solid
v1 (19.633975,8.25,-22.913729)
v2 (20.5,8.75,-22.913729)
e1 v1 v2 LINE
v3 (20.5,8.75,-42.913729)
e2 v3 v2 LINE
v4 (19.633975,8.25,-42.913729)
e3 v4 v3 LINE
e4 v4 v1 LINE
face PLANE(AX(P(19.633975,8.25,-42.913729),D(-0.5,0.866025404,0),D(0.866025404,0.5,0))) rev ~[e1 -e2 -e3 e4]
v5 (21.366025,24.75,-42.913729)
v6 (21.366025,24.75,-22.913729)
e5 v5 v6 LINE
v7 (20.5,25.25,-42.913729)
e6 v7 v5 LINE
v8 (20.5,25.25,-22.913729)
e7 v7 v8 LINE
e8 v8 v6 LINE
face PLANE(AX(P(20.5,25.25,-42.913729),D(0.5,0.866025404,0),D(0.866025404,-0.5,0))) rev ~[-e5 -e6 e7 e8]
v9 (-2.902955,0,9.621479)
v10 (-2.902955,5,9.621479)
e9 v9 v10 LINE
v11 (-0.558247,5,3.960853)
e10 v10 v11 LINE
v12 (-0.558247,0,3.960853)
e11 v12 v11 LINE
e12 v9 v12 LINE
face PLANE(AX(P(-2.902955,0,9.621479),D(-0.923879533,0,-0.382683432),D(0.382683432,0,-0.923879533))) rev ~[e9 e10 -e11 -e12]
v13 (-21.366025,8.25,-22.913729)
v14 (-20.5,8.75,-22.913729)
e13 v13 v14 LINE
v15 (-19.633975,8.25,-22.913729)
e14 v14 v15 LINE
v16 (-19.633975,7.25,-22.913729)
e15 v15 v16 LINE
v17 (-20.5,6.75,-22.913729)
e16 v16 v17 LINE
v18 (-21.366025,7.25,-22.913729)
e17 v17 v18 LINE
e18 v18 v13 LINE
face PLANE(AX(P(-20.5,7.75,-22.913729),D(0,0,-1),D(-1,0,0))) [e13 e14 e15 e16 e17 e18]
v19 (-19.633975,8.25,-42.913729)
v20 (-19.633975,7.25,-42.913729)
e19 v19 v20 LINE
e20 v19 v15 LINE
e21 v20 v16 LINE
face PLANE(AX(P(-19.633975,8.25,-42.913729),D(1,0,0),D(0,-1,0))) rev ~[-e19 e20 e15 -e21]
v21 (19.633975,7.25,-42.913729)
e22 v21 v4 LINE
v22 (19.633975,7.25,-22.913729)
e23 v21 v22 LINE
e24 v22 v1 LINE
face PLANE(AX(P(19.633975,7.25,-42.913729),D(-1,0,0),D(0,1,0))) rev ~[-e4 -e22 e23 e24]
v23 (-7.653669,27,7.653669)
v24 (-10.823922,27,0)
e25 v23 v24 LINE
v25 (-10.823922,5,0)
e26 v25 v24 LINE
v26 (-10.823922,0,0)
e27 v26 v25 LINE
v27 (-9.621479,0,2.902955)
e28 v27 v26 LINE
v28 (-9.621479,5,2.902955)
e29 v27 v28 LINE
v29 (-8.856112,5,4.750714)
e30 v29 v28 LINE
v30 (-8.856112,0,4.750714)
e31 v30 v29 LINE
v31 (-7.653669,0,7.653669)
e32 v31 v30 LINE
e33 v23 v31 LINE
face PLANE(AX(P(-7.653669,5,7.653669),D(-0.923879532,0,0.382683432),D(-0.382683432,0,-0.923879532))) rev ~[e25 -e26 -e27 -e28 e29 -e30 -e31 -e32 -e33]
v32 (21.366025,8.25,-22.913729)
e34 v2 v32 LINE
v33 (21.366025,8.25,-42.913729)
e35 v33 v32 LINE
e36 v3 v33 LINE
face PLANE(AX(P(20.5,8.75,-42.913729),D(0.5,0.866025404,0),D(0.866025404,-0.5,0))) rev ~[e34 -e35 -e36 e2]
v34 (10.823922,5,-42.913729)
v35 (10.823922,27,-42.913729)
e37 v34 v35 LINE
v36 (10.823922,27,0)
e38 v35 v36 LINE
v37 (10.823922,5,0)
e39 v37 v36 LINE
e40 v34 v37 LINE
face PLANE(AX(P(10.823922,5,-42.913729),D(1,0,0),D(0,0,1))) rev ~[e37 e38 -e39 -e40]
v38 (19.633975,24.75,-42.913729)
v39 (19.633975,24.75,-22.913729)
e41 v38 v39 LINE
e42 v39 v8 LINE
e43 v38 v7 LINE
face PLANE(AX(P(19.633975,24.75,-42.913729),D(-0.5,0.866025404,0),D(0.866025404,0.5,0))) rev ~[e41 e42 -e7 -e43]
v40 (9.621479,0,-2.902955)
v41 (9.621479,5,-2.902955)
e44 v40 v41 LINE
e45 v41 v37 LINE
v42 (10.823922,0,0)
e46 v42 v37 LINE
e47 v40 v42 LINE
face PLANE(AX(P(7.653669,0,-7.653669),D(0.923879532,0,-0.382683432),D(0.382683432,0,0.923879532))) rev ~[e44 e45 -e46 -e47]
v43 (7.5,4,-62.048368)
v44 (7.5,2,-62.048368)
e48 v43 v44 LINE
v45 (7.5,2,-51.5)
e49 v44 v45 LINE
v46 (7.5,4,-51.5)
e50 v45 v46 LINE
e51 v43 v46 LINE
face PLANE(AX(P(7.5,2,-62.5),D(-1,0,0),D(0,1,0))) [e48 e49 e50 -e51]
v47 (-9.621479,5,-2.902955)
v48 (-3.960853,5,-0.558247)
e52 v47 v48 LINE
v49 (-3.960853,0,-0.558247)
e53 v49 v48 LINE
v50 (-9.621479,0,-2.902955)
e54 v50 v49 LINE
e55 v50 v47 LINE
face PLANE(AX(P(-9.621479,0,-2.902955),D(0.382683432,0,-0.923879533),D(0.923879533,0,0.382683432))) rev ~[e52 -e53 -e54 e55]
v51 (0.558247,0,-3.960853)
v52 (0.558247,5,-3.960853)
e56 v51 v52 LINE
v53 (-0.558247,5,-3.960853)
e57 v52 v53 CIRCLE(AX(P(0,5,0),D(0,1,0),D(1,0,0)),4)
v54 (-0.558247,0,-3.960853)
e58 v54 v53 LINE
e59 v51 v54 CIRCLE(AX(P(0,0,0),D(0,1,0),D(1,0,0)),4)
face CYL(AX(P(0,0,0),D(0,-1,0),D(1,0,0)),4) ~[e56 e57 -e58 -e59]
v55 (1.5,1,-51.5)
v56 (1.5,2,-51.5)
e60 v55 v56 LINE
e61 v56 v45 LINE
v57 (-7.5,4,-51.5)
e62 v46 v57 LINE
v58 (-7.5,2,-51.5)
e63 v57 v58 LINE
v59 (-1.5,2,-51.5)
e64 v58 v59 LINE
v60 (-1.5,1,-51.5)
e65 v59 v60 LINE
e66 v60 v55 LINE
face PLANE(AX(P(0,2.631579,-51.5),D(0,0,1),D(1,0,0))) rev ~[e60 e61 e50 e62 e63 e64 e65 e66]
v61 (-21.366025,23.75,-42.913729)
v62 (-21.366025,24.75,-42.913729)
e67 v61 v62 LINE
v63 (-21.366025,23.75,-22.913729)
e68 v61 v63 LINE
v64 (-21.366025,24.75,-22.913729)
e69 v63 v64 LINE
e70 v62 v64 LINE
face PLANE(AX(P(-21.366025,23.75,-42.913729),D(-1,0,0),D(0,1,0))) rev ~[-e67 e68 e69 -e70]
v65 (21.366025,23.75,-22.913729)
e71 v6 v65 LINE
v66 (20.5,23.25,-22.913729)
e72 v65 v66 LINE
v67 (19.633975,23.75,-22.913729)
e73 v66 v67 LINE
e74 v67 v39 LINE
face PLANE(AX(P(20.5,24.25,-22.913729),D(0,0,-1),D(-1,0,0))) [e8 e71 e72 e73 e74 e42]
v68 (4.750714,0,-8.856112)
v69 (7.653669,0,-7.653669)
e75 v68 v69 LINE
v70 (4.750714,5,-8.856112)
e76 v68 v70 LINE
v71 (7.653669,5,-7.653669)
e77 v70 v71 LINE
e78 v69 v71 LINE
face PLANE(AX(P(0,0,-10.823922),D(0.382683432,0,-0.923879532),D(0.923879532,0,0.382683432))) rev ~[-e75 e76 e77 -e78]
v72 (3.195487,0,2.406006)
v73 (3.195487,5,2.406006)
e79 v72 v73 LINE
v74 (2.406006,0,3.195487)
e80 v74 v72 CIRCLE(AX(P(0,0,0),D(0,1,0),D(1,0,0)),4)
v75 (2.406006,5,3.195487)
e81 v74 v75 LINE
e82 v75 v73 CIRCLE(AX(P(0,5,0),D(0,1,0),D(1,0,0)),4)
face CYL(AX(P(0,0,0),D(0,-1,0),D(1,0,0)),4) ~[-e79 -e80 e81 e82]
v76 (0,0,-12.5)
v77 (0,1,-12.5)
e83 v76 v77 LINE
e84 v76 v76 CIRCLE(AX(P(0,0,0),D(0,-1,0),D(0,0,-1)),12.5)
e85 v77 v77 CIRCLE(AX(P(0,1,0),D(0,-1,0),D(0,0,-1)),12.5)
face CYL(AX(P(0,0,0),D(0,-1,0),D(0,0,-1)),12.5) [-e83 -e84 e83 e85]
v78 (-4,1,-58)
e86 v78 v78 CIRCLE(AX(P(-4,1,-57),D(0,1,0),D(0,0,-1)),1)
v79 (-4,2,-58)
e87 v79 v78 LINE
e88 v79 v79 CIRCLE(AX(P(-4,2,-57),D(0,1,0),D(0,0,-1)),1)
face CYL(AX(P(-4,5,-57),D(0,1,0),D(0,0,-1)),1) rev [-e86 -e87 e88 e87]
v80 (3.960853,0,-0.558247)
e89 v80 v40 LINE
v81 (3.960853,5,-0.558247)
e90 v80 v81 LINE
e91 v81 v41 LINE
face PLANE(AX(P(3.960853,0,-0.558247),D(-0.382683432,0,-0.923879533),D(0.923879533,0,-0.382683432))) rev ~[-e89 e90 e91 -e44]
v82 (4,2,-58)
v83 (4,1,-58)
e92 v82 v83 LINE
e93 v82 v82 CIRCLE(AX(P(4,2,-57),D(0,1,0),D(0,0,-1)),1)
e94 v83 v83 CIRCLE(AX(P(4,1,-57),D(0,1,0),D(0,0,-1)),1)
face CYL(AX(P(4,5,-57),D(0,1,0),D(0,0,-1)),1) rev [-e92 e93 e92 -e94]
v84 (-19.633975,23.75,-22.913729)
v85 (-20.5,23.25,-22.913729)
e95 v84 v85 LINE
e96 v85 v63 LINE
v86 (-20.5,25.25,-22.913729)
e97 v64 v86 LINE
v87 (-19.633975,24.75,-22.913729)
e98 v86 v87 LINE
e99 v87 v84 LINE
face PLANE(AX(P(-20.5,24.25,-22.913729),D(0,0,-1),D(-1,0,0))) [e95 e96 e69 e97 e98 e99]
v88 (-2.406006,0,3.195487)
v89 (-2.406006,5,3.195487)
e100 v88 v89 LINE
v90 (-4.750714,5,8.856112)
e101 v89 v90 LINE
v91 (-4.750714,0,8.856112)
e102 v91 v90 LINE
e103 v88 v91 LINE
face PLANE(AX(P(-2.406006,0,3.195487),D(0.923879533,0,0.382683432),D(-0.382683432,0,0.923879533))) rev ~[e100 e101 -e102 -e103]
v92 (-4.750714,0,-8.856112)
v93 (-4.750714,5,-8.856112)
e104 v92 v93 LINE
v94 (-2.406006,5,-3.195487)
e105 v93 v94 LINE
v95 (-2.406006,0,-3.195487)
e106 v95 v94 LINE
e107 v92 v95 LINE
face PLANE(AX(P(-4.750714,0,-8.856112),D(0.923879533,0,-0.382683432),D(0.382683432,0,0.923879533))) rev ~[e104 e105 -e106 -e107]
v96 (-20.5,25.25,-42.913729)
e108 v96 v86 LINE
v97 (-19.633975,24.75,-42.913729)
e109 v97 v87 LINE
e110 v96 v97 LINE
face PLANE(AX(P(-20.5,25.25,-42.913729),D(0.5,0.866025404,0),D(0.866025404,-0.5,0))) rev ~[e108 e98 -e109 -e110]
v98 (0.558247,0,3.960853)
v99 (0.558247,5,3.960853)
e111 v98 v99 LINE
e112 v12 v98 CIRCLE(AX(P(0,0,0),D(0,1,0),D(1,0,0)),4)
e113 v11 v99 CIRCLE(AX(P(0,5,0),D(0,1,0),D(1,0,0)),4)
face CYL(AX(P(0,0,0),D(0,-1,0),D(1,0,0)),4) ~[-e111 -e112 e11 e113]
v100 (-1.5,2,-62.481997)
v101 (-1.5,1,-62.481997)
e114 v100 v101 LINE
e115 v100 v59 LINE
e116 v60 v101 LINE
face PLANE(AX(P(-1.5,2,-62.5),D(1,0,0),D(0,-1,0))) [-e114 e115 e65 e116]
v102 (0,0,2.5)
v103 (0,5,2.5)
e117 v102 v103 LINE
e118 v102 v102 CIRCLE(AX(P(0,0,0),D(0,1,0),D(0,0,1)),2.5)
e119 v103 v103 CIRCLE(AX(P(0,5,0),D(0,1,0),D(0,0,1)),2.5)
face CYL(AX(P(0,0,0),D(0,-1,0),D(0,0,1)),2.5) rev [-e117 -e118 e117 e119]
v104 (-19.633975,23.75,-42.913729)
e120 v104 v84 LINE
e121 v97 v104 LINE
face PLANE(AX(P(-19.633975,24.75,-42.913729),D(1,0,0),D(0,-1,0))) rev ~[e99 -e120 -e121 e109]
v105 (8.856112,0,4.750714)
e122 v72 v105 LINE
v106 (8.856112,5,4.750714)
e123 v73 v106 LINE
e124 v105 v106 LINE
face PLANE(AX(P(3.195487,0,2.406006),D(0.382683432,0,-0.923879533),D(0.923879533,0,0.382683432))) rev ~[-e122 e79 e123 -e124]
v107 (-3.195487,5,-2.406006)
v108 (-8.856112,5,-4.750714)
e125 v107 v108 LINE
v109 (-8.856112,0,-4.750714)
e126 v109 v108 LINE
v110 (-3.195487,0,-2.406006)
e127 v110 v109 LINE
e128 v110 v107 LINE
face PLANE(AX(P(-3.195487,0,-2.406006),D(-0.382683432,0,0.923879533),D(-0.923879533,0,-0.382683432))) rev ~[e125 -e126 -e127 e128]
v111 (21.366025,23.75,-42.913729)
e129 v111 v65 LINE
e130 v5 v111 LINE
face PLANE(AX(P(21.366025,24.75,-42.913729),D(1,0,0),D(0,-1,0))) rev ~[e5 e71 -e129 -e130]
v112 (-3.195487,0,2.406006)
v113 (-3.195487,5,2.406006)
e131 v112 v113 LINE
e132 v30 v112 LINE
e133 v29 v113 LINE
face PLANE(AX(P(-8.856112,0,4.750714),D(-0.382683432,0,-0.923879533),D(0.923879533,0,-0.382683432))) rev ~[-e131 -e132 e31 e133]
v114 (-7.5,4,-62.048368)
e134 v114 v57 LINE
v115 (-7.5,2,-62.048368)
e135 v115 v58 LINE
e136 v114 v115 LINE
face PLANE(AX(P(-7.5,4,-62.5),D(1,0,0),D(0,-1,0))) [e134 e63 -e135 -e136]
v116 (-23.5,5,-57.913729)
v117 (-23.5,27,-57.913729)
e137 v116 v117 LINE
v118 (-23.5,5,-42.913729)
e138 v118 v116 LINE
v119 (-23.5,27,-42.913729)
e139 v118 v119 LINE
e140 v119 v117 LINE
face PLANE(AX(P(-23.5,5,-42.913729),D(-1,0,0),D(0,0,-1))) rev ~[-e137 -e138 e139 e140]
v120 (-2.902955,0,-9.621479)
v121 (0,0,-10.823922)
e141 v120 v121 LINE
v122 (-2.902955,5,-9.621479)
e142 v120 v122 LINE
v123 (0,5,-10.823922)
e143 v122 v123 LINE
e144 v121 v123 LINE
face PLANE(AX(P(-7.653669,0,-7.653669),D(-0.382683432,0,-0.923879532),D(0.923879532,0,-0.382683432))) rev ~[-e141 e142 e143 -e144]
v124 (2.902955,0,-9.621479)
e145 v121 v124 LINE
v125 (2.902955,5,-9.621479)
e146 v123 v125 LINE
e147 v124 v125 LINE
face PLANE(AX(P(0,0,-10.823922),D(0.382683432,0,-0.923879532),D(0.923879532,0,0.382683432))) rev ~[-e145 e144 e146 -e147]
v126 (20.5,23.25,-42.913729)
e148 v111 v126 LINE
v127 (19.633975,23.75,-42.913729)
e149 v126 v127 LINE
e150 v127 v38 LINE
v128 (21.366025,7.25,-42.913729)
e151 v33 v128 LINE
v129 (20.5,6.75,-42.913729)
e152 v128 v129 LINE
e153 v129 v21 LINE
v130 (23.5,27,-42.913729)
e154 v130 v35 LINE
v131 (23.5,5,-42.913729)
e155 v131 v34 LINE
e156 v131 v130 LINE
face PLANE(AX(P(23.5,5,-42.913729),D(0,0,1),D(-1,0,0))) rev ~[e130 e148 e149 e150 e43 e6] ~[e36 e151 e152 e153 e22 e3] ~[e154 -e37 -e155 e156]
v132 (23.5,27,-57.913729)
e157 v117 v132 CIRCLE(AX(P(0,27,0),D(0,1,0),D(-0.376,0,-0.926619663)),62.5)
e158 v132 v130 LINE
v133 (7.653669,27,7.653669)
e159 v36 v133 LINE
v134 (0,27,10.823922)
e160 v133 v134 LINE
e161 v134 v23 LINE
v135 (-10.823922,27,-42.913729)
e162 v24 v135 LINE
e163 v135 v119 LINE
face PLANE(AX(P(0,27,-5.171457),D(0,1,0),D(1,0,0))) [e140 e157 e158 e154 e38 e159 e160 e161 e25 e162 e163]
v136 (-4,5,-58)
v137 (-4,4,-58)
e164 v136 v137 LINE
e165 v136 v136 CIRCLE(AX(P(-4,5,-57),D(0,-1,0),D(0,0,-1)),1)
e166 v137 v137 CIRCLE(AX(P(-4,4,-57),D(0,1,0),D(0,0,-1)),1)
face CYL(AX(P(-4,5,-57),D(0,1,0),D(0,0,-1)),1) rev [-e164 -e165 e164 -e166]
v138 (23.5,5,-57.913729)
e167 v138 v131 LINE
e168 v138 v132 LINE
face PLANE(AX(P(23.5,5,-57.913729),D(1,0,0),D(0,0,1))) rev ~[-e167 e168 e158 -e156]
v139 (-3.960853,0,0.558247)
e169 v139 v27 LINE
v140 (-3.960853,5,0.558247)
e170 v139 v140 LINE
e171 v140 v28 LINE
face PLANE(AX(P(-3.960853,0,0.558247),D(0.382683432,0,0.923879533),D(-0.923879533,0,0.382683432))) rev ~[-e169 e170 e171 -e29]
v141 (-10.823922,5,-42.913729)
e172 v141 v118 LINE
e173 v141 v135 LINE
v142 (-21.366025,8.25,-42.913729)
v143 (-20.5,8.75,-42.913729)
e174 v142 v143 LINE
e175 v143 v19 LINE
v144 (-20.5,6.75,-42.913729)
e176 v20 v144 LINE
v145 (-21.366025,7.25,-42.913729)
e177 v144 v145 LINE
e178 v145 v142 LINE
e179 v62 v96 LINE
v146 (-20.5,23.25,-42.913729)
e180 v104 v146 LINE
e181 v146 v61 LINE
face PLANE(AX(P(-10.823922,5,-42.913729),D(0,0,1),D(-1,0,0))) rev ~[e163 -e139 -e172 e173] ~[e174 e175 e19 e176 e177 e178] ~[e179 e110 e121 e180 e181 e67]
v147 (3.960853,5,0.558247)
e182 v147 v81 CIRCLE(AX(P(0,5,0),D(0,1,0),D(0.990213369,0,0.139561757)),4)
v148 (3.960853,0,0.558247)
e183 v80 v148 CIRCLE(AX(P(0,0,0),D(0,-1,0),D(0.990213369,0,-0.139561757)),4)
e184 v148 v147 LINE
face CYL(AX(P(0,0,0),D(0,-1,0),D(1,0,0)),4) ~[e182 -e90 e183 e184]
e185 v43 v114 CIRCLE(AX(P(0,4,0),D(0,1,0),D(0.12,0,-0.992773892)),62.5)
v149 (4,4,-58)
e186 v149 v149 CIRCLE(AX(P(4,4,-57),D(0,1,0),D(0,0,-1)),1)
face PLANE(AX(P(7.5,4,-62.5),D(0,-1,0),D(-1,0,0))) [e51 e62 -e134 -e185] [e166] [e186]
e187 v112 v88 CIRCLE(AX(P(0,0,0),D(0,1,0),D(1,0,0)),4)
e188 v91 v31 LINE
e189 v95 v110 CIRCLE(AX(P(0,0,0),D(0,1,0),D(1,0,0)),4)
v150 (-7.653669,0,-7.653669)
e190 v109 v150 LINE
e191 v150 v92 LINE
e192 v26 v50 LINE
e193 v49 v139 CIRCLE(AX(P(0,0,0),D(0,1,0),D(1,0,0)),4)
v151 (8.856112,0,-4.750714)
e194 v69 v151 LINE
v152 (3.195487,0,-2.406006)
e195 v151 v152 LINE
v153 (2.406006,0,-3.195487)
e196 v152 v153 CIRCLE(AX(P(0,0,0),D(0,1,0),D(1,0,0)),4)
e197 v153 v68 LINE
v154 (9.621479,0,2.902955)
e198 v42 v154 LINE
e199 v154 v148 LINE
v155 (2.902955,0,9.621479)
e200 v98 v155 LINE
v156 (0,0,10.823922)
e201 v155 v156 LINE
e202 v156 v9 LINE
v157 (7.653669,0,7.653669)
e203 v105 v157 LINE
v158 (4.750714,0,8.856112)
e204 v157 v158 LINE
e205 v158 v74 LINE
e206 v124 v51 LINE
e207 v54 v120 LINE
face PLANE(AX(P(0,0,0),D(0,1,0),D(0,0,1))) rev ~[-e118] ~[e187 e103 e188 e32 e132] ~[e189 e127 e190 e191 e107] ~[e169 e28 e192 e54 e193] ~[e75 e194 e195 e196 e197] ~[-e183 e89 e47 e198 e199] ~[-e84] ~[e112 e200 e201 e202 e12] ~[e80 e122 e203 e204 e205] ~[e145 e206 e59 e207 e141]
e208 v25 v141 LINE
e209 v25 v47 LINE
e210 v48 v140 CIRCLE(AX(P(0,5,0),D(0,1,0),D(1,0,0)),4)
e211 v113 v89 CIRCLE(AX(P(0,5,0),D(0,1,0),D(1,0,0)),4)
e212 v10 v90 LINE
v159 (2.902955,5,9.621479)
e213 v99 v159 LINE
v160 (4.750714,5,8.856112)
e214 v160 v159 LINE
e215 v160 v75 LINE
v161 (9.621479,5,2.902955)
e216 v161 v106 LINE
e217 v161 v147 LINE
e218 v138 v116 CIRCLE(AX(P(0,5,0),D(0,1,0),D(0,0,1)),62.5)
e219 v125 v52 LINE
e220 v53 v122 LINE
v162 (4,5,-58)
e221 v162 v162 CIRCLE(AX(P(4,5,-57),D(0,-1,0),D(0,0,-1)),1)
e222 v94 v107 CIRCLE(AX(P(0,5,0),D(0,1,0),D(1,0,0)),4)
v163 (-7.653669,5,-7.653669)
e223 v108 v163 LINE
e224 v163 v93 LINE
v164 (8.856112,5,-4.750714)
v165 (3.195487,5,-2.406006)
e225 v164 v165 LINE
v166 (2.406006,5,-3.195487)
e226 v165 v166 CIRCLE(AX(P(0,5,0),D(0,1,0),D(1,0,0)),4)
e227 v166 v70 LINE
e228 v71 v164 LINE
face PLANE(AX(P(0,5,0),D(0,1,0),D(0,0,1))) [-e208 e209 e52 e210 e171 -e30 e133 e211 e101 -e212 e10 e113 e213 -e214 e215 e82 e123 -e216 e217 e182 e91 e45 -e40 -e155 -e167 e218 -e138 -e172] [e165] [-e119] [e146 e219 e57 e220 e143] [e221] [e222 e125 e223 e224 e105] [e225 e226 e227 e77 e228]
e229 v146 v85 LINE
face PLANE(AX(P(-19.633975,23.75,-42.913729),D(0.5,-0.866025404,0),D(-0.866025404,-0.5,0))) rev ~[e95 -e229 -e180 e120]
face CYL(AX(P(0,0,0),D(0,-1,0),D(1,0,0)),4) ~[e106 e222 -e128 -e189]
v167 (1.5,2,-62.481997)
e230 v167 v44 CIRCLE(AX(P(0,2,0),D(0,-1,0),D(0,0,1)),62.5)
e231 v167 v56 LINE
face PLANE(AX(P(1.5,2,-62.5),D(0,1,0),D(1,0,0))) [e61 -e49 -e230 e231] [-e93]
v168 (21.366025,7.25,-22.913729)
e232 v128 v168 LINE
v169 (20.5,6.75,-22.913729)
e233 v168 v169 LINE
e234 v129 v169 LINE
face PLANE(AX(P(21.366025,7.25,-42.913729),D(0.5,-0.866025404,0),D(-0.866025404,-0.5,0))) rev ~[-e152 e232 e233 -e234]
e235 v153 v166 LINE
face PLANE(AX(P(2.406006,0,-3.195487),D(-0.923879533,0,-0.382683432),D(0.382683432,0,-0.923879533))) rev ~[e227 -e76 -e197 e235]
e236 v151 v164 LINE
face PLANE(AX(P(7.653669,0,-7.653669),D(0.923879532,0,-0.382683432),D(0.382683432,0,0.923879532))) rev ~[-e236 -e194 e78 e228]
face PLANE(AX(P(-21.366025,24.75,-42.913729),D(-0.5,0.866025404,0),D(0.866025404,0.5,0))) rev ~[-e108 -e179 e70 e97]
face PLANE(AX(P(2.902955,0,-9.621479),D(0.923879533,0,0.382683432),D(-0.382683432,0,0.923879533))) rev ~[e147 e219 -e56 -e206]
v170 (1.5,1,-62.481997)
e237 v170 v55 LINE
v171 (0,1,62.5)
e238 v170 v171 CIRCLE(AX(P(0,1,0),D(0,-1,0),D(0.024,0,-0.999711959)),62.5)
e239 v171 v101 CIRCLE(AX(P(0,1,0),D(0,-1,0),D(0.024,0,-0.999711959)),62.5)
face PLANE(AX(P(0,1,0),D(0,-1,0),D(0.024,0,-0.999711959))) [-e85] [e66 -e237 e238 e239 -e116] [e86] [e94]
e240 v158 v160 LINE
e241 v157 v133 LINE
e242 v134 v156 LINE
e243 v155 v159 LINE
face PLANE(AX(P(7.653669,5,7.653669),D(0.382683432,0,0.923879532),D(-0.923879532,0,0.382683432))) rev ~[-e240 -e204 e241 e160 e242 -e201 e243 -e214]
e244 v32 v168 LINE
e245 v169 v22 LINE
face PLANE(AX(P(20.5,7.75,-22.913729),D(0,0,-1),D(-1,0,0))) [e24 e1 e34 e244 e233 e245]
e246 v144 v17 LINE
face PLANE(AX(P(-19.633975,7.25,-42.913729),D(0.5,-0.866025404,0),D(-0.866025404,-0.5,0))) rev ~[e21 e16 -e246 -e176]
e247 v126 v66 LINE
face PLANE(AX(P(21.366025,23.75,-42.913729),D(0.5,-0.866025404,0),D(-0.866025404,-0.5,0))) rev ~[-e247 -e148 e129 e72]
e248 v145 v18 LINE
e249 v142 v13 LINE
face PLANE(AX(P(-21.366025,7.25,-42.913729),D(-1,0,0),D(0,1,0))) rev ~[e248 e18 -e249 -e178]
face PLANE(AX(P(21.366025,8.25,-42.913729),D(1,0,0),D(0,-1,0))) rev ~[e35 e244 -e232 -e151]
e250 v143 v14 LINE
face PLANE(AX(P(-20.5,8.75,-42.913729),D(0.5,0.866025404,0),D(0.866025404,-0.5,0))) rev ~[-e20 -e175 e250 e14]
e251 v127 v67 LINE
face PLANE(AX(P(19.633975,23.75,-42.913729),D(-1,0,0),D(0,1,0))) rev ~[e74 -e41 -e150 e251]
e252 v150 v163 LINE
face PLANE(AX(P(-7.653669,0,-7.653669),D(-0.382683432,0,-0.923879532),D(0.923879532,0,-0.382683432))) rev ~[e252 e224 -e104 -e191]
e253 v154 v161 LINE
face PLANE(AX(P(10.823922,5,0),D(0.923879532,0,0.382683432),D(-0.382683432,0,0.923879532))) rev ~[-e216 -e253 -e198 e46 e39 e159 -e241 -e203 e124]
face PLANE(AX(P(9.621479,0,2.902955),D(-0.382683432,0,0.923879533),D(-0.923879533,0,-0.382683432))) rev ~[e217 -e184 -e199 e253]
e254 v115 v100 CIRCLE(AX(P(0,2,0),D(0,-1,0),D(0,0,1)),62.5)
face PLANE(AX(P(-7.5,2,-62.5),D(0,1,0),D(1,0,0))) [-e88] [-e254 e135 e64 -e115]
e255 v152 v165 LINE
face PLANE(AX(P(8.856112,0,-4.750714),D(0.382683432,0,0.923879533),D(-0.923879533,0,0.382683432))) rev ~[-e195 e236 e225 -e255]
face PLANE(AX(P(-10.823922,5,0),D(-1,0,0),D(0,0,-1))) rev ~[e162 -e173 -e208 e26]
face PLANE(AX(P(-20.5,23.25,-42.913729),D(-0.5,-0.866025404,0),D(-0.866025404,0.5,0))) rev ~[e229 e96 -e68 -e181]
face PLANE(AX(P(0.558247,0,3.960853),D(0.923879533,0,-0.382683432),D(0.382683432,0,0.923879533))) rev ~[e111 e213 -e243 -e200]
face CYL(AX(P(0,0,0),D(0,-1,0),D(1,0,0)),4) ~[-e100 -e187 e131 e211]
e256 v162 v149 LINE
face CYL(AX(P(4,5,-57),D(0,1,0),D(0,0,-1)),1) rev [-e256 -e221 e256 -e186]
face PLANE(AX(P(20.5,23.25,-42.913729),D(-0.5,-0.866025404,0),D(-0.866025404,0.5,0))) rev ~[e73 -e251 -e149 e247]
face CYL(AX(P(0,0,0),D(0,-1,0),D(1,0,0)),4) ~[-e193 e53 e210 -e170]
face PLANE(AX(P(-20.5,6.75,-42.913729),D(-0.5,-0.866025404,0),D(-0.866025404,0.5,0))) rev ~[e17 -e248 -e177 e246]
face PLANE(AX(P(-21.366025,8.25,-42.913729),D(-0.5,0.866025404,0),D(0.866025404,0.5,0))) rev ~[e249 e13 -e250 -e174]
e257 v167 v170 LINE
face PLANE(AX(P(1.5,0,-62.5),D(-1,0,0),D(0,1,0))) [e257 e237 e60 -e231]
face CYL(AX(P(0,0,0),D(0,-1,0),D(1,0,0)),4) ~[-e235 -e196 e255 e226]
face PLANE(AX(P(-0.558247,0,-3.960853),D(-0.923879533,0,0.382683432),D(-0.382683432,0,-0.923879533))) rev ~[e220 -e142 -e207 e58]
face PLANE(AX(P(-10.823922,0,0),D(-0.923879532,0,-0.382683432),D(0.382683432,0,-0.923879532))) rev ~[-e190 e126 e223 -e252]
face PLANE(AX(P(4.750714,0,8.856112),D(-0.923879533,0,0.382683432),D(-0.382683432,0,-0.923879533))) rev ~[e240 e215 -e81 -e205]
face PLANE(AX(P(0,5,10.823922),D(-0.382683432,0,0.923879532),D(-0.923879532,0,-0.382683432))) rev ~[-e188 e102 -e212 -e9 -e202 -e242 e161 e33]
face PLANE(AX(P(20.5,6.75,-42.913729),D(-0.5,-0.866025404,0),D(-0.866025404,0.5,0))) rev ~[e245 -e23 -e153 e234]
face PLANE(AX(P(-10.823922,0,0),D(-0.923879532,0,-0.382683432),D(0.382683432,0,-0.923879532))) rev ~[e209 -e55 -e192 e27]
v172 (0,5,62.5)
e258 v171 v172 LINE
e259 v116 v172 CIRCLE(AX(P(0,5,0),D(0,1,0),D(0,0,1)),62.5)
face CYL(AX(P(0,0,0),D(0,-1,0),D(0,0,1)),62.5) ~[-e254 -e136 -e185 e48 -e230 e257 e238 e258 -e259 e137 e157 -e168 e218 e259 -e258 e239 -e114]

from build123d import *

# Parameters (mm, degrees)
SKETCH1_R           = 62.5
SKETCH1_R_2         = 4
SKETCH1_R_3         = 2.5
BOSS_EXTRUDE1_DEPTH = 5
BOSS_EXTRUDE3_DEPTH = 22
CUT_EXTRUDE1_DEPTH  = 20
CUT_EXTRUDE2_DEPTH  = 11
CUT_EXTRUDE3_START  = -5
SKETCH8_R           = 1
CUT_EXTRUDE3_DEPTH  = 5
SKETCH11_R          = 62.5
SKETCH11_R_2        = 12.5
CUT_EXTRUDE6_DEPTH  = 1


with BuildPart() as part:
    # Sketch1 → Boss-Extrude1 (new body)
    # profile 1 of 10: a face of its own
    with BuildSketch(Plane(origin=(0, 0, 0), x_dir=(1, 0, 0), z_dir=(0, 1, 0))):
        with Locations(Location((0, 0, 0), (0, 0, 270))):
            Circle(SKETCH1_R)
        Polygon((-10.823922003, 0), (-7.653668647, 7.653668647), (0, 10.823922003), (7.653668647, 7.653668647), (10.823922003, 0), (7.653668647, -7.653668647), (0, -10.823922003), (-7.653668647, -7.653668647), align=None, mode=Mode.SUBTRACT)
    # profile 2 of 10: a face of its own
    with BuildSketch(Plane(origin=(0, 0, 0), x_dir=(1, 0, 0), z_dir=(0, 1, 0))):
        Circle(SKETCH1_R_2)
        with Locations(Location((0, 0, 0), (0, 0, 270))):
            Circle(SKETCH1_R_3, mode=Mode.SUBTRACT)
    # profile 3 of 10: a face of its own
    with BuildSketch(Plane(origin=(0, 0, 0), x_dir=(1, 0, 0), z_dir=(0, 1, 0))):
        with BuildLine():
            Line((8.856111893, -4.750713856), (9.621478757, -2.902954791))
            Line((9.621478757, -2.902954791), (3.960853476, -0.558247028))
            ThreePointArc((3.960853476, -0.558247028), (3.69551813, -1.530733729), (3.195486611, -2.406006093))
            Line((3.195486611, -2.406006093), (8.856111893, -4.750713856))
        make_face()
    # profile 4 of 10: a face of its own
    with BuildSketch(Plane(origin=(0, 0, 0), x_dir=(1, 0, 0), z_dir=(0, 1, 0))):
        with BuildLine():
            Line((9.621478757, 2.902954791), (8.856111893, 4.750713856))
            Line((8.856111893, 4.750713856), (3.195486611, 2.406006093))
            ThreePointArc((3.195486611, 2.406006093), (3.69551813, 1.530733729), (3.960853476, 0.558247028))
            Line((3.960853476, 0.558247028), (9.621478757, 2.902954791))
        make_face()
    # profile 5 of 10: a face of its own
    with BuildSketch(Plane(origin=(0, 0, 0), x_dir=(1, 0, 0), z_dir=(0, 1, 0))):
        with BuildLine():
            Line((4.750713856, 8.856111893), (2.902954791, 9.621478757))
            Line((2.902954791, 9.621478757), (0.558247028, 3.960853476))
            ThreePointArc((0.558247028, 3.960853476), (1.530733729, 3.69551813), (2.406006093, 3.195486611))
            Line((2.406006093, 3.195486611), (4.750713856, 8.856111893))
        make_face()
    # profile 6 of 10: a face of its own
    with BuildSketch(Plane(origin=(0, 0, 0), x_dir=(1, 0, 0), z_dir=(0, 1, 0))):
        with BuildLine():
            Line((-0.558247028, 3.960853476), (-2.902954791, 9.621478757))
            Line((-2.902954791, 9.621478757), (-4.750713856, 8.856111893))
            Line((-4.750713856, 8.856111893), (-2.406006093, 3.195486611))
            ThreePointArc((-2.406006093, 3.195486611), (-1.530733729, 3.69551813), (-0.558247028, 3.960853476))
        make_face()
    # profile 7 of 10: a face of its own
    with BuildSketch(Plane(origin=(0, 0, 0), x_dir=(1, 0, 0), z_dir=(0, 1, 0))):
        with BuildLine():
            Line((-3.195486611, 2.406006093), (-8.856111893, 4.750713856))
            Line((-8.856111893, 4.750713856), (-9.621478757, 2.902954791))
            Line((-9.621478757, 2.902954791), (-3.960853476, 0.558247028))
            ThreePointArc((-3.960853476, 0.558247028), (-3.69551813, 1.530733729), (-3.195486611, 2.406006093))
        make_face()
    # profile 8 of 10: a face of its own
    with BuildSketch(Plane(origin=(0, 0, 0), x_dir=(1, 0, 0), z_dir=(0, 1, 0))):
        with BuildLine():
            ThreePointArc((-3.195486611, -2.406006093), (-3.69551813, -1.530733729), (-3.960853476, -0.558247028))
            Line((-3.960853476, -0.558247028), (-9.621478757, -2.902954791))
            Line((-9.621478757, -2.902954791), (-8.856111893, -4.750713856))
            Line((-8.856111893, -4.750713856), (-3.195486611, -2.406006093))
        make_face()
    # profile 9 of 10: a face of its own
    with BuildSketch(Plane(origin=(0, 0, 0), x_dir=(1, 0, 0), z_dir=(0, 1, 0))):
        with BuildLine():
            ThreePointArc((-0.558247028, -3.960853476), (-1.530733729, -3.69551813), (-2.406006093, -3.195486611))
            Line((-2.406006093, -3.195486611), (-4.750713856, -8.856111893))
            Line((-4.750713856, -8.856111893), (-2.902954791, -9.621478757))
            Line((-2.902954791, -9.621478757), (-0.558247028, -3.960853476))
        make_face()
    # profile 10 of 10: a face of its own
    with BuildSketch(Plane(origin=(0, 0, 0), x_dir=(1, 0, 0), z_dir=(0, 1, 0))):
        with BuildLine():
            Line((4.750713856, -8.856111893), (2.406006093, -3.195486611))
            ThreePointArc((2.406006093, -3.195486611), (1.530733729, -3.69551813), (0.558247028, -3.960853476))
            Line((0.558247028, -3.960853476), (2.902954791, -9.621478757))
            Line((2.902954791, -9.621478757), (4.750713856, -8.856111893))
        make_face()
    extrude(amount=BOSS_EXTRUDE1_DEPTH)

    # Sketch3 → Boss-Extrude3 (add)
    with BuildSketch(Plane(origin=(0, 5, 0), x_dir=(1, 0, 0), z_dir=(0, 1, 0))):
        with BuildLine():
            Line((-10.823922003, 0), (-10.823922003, 42.913728942))
            Line((-10.823922003, 42.913728942), (-23.5, 42.913728942))
            Line((-23.5, 42.913728942), (-23.5, 57.913728942))
            ThreePointArc((-23.5, 57.913728942), (0, -62.5), (23.5, 57.913728942))
            Line((23.5, 57.913728942), (23.5, 42.913728942))
            Line((23.5, 42.913728942), (10.823922003, 42.913728942))
            Line((10.823922003, 42.913728942), (10.823922003, 0))
            Line((10.823922003, 0), (7.653668647, -7.653668647))
            Line((7.653668647, -7.653668647), (0, -10.823922003))
            Line((0, -10.823922003), (-7.653668647, -7.653668647))
            Line((-7.653668647, -7.653668647), (-10.823922003, 0))
        make_face()
    extrude(amount=BOSS_EXTRUDE3_DEPTH)

    # Sketch4 → Cut-Extrude1 (cut)
    with BuildSketch(Plane(origin=(0, 0, -42.913728942), x_dir=(-1, 0, 0), z_dir=(0, 0, -1))):
        Polygon((-20.5, 25.25), (-21.366025404, 24.75), (-21.366025404, 23.75), (-20.5, 23.25), (-19.633974596, 23.75), (-19.633974596, 24.75), align=None)
        Polygon((-20.5, 8.75), (-21.366025404, 8.25), (-21.366025404, 7.25), (-20.5, 6.75), (-19.633974596, 7.25), (-19.633974596, 8.25), align=None)
        Polygon((20.5, 8.75), (19.633974596, 8.25), (19.633974596, 7.25), (20.5, 6.75), (21.366025404, 7.25), (21.366025404, 8.25), align=None)
        Polygon((20.5, 25.25), (19.633974596, 24.75), (19.633974596, 23.75), (20.5, 23.25), (21.366025404, 23.75), (21.366025404, 24.75), align=None)
    extrude(amount=-CUT_EXTRUDE1_DEPTH, mode=Mode.SUBTRACT)

    # Sketch7 → Cut-Extrude2 (cut)
    with BuildSketch(Plane(origin=(0, 0, -62.5), x_dir=(-1, 0, 0), z_dir=(0, 0, -1))):
        Polygon((-7.5, 4), (7.5, 4), (7.5, 2), (1.5, 2), (1.5, 0), (-1.5, 0), (-1.5, 2), (-7.5, 2), align=None)
    extrude(amount=-CUT_EXTRUDE2_DEPTH, mode=Mode.SUBTRACT)

    # Sketch8 → Cut-Extrude3 (cut)
    with BuildSketch(Plane.XZ.offset(CUT_EXTRUDE3_START)):
        with Locations(Location((-4, -57, 0), (0, 0, 270))):
            Circle(SKETCH8_R)
        with Locations(Location((4, -57, 0), (0, 0, 270))):
            Circle(SKETCH8_R)
    extrude(amount=CUT_EXTRUDE3_DEPTH, mode=Mode.SUBTRACT)

    # Sketch11 → Cut-Extrude6 (cut)
    with BuildSketch(Plane.XZ):
        with Locations(Location((0, 0, 0), (0, 0, 271.375230752))):
            Circle(SKETCH11_R)
        with Locations(Location((0, 0, 0), (0, 0, 270))):
            Circle(SKETCH11_R_2, mode=Mode.SUBTRACT)
    extrude(amount=-CUT_EXTRUDE6_DEPTH, mode=Mode.SUBTRACT)


solid = part.part
